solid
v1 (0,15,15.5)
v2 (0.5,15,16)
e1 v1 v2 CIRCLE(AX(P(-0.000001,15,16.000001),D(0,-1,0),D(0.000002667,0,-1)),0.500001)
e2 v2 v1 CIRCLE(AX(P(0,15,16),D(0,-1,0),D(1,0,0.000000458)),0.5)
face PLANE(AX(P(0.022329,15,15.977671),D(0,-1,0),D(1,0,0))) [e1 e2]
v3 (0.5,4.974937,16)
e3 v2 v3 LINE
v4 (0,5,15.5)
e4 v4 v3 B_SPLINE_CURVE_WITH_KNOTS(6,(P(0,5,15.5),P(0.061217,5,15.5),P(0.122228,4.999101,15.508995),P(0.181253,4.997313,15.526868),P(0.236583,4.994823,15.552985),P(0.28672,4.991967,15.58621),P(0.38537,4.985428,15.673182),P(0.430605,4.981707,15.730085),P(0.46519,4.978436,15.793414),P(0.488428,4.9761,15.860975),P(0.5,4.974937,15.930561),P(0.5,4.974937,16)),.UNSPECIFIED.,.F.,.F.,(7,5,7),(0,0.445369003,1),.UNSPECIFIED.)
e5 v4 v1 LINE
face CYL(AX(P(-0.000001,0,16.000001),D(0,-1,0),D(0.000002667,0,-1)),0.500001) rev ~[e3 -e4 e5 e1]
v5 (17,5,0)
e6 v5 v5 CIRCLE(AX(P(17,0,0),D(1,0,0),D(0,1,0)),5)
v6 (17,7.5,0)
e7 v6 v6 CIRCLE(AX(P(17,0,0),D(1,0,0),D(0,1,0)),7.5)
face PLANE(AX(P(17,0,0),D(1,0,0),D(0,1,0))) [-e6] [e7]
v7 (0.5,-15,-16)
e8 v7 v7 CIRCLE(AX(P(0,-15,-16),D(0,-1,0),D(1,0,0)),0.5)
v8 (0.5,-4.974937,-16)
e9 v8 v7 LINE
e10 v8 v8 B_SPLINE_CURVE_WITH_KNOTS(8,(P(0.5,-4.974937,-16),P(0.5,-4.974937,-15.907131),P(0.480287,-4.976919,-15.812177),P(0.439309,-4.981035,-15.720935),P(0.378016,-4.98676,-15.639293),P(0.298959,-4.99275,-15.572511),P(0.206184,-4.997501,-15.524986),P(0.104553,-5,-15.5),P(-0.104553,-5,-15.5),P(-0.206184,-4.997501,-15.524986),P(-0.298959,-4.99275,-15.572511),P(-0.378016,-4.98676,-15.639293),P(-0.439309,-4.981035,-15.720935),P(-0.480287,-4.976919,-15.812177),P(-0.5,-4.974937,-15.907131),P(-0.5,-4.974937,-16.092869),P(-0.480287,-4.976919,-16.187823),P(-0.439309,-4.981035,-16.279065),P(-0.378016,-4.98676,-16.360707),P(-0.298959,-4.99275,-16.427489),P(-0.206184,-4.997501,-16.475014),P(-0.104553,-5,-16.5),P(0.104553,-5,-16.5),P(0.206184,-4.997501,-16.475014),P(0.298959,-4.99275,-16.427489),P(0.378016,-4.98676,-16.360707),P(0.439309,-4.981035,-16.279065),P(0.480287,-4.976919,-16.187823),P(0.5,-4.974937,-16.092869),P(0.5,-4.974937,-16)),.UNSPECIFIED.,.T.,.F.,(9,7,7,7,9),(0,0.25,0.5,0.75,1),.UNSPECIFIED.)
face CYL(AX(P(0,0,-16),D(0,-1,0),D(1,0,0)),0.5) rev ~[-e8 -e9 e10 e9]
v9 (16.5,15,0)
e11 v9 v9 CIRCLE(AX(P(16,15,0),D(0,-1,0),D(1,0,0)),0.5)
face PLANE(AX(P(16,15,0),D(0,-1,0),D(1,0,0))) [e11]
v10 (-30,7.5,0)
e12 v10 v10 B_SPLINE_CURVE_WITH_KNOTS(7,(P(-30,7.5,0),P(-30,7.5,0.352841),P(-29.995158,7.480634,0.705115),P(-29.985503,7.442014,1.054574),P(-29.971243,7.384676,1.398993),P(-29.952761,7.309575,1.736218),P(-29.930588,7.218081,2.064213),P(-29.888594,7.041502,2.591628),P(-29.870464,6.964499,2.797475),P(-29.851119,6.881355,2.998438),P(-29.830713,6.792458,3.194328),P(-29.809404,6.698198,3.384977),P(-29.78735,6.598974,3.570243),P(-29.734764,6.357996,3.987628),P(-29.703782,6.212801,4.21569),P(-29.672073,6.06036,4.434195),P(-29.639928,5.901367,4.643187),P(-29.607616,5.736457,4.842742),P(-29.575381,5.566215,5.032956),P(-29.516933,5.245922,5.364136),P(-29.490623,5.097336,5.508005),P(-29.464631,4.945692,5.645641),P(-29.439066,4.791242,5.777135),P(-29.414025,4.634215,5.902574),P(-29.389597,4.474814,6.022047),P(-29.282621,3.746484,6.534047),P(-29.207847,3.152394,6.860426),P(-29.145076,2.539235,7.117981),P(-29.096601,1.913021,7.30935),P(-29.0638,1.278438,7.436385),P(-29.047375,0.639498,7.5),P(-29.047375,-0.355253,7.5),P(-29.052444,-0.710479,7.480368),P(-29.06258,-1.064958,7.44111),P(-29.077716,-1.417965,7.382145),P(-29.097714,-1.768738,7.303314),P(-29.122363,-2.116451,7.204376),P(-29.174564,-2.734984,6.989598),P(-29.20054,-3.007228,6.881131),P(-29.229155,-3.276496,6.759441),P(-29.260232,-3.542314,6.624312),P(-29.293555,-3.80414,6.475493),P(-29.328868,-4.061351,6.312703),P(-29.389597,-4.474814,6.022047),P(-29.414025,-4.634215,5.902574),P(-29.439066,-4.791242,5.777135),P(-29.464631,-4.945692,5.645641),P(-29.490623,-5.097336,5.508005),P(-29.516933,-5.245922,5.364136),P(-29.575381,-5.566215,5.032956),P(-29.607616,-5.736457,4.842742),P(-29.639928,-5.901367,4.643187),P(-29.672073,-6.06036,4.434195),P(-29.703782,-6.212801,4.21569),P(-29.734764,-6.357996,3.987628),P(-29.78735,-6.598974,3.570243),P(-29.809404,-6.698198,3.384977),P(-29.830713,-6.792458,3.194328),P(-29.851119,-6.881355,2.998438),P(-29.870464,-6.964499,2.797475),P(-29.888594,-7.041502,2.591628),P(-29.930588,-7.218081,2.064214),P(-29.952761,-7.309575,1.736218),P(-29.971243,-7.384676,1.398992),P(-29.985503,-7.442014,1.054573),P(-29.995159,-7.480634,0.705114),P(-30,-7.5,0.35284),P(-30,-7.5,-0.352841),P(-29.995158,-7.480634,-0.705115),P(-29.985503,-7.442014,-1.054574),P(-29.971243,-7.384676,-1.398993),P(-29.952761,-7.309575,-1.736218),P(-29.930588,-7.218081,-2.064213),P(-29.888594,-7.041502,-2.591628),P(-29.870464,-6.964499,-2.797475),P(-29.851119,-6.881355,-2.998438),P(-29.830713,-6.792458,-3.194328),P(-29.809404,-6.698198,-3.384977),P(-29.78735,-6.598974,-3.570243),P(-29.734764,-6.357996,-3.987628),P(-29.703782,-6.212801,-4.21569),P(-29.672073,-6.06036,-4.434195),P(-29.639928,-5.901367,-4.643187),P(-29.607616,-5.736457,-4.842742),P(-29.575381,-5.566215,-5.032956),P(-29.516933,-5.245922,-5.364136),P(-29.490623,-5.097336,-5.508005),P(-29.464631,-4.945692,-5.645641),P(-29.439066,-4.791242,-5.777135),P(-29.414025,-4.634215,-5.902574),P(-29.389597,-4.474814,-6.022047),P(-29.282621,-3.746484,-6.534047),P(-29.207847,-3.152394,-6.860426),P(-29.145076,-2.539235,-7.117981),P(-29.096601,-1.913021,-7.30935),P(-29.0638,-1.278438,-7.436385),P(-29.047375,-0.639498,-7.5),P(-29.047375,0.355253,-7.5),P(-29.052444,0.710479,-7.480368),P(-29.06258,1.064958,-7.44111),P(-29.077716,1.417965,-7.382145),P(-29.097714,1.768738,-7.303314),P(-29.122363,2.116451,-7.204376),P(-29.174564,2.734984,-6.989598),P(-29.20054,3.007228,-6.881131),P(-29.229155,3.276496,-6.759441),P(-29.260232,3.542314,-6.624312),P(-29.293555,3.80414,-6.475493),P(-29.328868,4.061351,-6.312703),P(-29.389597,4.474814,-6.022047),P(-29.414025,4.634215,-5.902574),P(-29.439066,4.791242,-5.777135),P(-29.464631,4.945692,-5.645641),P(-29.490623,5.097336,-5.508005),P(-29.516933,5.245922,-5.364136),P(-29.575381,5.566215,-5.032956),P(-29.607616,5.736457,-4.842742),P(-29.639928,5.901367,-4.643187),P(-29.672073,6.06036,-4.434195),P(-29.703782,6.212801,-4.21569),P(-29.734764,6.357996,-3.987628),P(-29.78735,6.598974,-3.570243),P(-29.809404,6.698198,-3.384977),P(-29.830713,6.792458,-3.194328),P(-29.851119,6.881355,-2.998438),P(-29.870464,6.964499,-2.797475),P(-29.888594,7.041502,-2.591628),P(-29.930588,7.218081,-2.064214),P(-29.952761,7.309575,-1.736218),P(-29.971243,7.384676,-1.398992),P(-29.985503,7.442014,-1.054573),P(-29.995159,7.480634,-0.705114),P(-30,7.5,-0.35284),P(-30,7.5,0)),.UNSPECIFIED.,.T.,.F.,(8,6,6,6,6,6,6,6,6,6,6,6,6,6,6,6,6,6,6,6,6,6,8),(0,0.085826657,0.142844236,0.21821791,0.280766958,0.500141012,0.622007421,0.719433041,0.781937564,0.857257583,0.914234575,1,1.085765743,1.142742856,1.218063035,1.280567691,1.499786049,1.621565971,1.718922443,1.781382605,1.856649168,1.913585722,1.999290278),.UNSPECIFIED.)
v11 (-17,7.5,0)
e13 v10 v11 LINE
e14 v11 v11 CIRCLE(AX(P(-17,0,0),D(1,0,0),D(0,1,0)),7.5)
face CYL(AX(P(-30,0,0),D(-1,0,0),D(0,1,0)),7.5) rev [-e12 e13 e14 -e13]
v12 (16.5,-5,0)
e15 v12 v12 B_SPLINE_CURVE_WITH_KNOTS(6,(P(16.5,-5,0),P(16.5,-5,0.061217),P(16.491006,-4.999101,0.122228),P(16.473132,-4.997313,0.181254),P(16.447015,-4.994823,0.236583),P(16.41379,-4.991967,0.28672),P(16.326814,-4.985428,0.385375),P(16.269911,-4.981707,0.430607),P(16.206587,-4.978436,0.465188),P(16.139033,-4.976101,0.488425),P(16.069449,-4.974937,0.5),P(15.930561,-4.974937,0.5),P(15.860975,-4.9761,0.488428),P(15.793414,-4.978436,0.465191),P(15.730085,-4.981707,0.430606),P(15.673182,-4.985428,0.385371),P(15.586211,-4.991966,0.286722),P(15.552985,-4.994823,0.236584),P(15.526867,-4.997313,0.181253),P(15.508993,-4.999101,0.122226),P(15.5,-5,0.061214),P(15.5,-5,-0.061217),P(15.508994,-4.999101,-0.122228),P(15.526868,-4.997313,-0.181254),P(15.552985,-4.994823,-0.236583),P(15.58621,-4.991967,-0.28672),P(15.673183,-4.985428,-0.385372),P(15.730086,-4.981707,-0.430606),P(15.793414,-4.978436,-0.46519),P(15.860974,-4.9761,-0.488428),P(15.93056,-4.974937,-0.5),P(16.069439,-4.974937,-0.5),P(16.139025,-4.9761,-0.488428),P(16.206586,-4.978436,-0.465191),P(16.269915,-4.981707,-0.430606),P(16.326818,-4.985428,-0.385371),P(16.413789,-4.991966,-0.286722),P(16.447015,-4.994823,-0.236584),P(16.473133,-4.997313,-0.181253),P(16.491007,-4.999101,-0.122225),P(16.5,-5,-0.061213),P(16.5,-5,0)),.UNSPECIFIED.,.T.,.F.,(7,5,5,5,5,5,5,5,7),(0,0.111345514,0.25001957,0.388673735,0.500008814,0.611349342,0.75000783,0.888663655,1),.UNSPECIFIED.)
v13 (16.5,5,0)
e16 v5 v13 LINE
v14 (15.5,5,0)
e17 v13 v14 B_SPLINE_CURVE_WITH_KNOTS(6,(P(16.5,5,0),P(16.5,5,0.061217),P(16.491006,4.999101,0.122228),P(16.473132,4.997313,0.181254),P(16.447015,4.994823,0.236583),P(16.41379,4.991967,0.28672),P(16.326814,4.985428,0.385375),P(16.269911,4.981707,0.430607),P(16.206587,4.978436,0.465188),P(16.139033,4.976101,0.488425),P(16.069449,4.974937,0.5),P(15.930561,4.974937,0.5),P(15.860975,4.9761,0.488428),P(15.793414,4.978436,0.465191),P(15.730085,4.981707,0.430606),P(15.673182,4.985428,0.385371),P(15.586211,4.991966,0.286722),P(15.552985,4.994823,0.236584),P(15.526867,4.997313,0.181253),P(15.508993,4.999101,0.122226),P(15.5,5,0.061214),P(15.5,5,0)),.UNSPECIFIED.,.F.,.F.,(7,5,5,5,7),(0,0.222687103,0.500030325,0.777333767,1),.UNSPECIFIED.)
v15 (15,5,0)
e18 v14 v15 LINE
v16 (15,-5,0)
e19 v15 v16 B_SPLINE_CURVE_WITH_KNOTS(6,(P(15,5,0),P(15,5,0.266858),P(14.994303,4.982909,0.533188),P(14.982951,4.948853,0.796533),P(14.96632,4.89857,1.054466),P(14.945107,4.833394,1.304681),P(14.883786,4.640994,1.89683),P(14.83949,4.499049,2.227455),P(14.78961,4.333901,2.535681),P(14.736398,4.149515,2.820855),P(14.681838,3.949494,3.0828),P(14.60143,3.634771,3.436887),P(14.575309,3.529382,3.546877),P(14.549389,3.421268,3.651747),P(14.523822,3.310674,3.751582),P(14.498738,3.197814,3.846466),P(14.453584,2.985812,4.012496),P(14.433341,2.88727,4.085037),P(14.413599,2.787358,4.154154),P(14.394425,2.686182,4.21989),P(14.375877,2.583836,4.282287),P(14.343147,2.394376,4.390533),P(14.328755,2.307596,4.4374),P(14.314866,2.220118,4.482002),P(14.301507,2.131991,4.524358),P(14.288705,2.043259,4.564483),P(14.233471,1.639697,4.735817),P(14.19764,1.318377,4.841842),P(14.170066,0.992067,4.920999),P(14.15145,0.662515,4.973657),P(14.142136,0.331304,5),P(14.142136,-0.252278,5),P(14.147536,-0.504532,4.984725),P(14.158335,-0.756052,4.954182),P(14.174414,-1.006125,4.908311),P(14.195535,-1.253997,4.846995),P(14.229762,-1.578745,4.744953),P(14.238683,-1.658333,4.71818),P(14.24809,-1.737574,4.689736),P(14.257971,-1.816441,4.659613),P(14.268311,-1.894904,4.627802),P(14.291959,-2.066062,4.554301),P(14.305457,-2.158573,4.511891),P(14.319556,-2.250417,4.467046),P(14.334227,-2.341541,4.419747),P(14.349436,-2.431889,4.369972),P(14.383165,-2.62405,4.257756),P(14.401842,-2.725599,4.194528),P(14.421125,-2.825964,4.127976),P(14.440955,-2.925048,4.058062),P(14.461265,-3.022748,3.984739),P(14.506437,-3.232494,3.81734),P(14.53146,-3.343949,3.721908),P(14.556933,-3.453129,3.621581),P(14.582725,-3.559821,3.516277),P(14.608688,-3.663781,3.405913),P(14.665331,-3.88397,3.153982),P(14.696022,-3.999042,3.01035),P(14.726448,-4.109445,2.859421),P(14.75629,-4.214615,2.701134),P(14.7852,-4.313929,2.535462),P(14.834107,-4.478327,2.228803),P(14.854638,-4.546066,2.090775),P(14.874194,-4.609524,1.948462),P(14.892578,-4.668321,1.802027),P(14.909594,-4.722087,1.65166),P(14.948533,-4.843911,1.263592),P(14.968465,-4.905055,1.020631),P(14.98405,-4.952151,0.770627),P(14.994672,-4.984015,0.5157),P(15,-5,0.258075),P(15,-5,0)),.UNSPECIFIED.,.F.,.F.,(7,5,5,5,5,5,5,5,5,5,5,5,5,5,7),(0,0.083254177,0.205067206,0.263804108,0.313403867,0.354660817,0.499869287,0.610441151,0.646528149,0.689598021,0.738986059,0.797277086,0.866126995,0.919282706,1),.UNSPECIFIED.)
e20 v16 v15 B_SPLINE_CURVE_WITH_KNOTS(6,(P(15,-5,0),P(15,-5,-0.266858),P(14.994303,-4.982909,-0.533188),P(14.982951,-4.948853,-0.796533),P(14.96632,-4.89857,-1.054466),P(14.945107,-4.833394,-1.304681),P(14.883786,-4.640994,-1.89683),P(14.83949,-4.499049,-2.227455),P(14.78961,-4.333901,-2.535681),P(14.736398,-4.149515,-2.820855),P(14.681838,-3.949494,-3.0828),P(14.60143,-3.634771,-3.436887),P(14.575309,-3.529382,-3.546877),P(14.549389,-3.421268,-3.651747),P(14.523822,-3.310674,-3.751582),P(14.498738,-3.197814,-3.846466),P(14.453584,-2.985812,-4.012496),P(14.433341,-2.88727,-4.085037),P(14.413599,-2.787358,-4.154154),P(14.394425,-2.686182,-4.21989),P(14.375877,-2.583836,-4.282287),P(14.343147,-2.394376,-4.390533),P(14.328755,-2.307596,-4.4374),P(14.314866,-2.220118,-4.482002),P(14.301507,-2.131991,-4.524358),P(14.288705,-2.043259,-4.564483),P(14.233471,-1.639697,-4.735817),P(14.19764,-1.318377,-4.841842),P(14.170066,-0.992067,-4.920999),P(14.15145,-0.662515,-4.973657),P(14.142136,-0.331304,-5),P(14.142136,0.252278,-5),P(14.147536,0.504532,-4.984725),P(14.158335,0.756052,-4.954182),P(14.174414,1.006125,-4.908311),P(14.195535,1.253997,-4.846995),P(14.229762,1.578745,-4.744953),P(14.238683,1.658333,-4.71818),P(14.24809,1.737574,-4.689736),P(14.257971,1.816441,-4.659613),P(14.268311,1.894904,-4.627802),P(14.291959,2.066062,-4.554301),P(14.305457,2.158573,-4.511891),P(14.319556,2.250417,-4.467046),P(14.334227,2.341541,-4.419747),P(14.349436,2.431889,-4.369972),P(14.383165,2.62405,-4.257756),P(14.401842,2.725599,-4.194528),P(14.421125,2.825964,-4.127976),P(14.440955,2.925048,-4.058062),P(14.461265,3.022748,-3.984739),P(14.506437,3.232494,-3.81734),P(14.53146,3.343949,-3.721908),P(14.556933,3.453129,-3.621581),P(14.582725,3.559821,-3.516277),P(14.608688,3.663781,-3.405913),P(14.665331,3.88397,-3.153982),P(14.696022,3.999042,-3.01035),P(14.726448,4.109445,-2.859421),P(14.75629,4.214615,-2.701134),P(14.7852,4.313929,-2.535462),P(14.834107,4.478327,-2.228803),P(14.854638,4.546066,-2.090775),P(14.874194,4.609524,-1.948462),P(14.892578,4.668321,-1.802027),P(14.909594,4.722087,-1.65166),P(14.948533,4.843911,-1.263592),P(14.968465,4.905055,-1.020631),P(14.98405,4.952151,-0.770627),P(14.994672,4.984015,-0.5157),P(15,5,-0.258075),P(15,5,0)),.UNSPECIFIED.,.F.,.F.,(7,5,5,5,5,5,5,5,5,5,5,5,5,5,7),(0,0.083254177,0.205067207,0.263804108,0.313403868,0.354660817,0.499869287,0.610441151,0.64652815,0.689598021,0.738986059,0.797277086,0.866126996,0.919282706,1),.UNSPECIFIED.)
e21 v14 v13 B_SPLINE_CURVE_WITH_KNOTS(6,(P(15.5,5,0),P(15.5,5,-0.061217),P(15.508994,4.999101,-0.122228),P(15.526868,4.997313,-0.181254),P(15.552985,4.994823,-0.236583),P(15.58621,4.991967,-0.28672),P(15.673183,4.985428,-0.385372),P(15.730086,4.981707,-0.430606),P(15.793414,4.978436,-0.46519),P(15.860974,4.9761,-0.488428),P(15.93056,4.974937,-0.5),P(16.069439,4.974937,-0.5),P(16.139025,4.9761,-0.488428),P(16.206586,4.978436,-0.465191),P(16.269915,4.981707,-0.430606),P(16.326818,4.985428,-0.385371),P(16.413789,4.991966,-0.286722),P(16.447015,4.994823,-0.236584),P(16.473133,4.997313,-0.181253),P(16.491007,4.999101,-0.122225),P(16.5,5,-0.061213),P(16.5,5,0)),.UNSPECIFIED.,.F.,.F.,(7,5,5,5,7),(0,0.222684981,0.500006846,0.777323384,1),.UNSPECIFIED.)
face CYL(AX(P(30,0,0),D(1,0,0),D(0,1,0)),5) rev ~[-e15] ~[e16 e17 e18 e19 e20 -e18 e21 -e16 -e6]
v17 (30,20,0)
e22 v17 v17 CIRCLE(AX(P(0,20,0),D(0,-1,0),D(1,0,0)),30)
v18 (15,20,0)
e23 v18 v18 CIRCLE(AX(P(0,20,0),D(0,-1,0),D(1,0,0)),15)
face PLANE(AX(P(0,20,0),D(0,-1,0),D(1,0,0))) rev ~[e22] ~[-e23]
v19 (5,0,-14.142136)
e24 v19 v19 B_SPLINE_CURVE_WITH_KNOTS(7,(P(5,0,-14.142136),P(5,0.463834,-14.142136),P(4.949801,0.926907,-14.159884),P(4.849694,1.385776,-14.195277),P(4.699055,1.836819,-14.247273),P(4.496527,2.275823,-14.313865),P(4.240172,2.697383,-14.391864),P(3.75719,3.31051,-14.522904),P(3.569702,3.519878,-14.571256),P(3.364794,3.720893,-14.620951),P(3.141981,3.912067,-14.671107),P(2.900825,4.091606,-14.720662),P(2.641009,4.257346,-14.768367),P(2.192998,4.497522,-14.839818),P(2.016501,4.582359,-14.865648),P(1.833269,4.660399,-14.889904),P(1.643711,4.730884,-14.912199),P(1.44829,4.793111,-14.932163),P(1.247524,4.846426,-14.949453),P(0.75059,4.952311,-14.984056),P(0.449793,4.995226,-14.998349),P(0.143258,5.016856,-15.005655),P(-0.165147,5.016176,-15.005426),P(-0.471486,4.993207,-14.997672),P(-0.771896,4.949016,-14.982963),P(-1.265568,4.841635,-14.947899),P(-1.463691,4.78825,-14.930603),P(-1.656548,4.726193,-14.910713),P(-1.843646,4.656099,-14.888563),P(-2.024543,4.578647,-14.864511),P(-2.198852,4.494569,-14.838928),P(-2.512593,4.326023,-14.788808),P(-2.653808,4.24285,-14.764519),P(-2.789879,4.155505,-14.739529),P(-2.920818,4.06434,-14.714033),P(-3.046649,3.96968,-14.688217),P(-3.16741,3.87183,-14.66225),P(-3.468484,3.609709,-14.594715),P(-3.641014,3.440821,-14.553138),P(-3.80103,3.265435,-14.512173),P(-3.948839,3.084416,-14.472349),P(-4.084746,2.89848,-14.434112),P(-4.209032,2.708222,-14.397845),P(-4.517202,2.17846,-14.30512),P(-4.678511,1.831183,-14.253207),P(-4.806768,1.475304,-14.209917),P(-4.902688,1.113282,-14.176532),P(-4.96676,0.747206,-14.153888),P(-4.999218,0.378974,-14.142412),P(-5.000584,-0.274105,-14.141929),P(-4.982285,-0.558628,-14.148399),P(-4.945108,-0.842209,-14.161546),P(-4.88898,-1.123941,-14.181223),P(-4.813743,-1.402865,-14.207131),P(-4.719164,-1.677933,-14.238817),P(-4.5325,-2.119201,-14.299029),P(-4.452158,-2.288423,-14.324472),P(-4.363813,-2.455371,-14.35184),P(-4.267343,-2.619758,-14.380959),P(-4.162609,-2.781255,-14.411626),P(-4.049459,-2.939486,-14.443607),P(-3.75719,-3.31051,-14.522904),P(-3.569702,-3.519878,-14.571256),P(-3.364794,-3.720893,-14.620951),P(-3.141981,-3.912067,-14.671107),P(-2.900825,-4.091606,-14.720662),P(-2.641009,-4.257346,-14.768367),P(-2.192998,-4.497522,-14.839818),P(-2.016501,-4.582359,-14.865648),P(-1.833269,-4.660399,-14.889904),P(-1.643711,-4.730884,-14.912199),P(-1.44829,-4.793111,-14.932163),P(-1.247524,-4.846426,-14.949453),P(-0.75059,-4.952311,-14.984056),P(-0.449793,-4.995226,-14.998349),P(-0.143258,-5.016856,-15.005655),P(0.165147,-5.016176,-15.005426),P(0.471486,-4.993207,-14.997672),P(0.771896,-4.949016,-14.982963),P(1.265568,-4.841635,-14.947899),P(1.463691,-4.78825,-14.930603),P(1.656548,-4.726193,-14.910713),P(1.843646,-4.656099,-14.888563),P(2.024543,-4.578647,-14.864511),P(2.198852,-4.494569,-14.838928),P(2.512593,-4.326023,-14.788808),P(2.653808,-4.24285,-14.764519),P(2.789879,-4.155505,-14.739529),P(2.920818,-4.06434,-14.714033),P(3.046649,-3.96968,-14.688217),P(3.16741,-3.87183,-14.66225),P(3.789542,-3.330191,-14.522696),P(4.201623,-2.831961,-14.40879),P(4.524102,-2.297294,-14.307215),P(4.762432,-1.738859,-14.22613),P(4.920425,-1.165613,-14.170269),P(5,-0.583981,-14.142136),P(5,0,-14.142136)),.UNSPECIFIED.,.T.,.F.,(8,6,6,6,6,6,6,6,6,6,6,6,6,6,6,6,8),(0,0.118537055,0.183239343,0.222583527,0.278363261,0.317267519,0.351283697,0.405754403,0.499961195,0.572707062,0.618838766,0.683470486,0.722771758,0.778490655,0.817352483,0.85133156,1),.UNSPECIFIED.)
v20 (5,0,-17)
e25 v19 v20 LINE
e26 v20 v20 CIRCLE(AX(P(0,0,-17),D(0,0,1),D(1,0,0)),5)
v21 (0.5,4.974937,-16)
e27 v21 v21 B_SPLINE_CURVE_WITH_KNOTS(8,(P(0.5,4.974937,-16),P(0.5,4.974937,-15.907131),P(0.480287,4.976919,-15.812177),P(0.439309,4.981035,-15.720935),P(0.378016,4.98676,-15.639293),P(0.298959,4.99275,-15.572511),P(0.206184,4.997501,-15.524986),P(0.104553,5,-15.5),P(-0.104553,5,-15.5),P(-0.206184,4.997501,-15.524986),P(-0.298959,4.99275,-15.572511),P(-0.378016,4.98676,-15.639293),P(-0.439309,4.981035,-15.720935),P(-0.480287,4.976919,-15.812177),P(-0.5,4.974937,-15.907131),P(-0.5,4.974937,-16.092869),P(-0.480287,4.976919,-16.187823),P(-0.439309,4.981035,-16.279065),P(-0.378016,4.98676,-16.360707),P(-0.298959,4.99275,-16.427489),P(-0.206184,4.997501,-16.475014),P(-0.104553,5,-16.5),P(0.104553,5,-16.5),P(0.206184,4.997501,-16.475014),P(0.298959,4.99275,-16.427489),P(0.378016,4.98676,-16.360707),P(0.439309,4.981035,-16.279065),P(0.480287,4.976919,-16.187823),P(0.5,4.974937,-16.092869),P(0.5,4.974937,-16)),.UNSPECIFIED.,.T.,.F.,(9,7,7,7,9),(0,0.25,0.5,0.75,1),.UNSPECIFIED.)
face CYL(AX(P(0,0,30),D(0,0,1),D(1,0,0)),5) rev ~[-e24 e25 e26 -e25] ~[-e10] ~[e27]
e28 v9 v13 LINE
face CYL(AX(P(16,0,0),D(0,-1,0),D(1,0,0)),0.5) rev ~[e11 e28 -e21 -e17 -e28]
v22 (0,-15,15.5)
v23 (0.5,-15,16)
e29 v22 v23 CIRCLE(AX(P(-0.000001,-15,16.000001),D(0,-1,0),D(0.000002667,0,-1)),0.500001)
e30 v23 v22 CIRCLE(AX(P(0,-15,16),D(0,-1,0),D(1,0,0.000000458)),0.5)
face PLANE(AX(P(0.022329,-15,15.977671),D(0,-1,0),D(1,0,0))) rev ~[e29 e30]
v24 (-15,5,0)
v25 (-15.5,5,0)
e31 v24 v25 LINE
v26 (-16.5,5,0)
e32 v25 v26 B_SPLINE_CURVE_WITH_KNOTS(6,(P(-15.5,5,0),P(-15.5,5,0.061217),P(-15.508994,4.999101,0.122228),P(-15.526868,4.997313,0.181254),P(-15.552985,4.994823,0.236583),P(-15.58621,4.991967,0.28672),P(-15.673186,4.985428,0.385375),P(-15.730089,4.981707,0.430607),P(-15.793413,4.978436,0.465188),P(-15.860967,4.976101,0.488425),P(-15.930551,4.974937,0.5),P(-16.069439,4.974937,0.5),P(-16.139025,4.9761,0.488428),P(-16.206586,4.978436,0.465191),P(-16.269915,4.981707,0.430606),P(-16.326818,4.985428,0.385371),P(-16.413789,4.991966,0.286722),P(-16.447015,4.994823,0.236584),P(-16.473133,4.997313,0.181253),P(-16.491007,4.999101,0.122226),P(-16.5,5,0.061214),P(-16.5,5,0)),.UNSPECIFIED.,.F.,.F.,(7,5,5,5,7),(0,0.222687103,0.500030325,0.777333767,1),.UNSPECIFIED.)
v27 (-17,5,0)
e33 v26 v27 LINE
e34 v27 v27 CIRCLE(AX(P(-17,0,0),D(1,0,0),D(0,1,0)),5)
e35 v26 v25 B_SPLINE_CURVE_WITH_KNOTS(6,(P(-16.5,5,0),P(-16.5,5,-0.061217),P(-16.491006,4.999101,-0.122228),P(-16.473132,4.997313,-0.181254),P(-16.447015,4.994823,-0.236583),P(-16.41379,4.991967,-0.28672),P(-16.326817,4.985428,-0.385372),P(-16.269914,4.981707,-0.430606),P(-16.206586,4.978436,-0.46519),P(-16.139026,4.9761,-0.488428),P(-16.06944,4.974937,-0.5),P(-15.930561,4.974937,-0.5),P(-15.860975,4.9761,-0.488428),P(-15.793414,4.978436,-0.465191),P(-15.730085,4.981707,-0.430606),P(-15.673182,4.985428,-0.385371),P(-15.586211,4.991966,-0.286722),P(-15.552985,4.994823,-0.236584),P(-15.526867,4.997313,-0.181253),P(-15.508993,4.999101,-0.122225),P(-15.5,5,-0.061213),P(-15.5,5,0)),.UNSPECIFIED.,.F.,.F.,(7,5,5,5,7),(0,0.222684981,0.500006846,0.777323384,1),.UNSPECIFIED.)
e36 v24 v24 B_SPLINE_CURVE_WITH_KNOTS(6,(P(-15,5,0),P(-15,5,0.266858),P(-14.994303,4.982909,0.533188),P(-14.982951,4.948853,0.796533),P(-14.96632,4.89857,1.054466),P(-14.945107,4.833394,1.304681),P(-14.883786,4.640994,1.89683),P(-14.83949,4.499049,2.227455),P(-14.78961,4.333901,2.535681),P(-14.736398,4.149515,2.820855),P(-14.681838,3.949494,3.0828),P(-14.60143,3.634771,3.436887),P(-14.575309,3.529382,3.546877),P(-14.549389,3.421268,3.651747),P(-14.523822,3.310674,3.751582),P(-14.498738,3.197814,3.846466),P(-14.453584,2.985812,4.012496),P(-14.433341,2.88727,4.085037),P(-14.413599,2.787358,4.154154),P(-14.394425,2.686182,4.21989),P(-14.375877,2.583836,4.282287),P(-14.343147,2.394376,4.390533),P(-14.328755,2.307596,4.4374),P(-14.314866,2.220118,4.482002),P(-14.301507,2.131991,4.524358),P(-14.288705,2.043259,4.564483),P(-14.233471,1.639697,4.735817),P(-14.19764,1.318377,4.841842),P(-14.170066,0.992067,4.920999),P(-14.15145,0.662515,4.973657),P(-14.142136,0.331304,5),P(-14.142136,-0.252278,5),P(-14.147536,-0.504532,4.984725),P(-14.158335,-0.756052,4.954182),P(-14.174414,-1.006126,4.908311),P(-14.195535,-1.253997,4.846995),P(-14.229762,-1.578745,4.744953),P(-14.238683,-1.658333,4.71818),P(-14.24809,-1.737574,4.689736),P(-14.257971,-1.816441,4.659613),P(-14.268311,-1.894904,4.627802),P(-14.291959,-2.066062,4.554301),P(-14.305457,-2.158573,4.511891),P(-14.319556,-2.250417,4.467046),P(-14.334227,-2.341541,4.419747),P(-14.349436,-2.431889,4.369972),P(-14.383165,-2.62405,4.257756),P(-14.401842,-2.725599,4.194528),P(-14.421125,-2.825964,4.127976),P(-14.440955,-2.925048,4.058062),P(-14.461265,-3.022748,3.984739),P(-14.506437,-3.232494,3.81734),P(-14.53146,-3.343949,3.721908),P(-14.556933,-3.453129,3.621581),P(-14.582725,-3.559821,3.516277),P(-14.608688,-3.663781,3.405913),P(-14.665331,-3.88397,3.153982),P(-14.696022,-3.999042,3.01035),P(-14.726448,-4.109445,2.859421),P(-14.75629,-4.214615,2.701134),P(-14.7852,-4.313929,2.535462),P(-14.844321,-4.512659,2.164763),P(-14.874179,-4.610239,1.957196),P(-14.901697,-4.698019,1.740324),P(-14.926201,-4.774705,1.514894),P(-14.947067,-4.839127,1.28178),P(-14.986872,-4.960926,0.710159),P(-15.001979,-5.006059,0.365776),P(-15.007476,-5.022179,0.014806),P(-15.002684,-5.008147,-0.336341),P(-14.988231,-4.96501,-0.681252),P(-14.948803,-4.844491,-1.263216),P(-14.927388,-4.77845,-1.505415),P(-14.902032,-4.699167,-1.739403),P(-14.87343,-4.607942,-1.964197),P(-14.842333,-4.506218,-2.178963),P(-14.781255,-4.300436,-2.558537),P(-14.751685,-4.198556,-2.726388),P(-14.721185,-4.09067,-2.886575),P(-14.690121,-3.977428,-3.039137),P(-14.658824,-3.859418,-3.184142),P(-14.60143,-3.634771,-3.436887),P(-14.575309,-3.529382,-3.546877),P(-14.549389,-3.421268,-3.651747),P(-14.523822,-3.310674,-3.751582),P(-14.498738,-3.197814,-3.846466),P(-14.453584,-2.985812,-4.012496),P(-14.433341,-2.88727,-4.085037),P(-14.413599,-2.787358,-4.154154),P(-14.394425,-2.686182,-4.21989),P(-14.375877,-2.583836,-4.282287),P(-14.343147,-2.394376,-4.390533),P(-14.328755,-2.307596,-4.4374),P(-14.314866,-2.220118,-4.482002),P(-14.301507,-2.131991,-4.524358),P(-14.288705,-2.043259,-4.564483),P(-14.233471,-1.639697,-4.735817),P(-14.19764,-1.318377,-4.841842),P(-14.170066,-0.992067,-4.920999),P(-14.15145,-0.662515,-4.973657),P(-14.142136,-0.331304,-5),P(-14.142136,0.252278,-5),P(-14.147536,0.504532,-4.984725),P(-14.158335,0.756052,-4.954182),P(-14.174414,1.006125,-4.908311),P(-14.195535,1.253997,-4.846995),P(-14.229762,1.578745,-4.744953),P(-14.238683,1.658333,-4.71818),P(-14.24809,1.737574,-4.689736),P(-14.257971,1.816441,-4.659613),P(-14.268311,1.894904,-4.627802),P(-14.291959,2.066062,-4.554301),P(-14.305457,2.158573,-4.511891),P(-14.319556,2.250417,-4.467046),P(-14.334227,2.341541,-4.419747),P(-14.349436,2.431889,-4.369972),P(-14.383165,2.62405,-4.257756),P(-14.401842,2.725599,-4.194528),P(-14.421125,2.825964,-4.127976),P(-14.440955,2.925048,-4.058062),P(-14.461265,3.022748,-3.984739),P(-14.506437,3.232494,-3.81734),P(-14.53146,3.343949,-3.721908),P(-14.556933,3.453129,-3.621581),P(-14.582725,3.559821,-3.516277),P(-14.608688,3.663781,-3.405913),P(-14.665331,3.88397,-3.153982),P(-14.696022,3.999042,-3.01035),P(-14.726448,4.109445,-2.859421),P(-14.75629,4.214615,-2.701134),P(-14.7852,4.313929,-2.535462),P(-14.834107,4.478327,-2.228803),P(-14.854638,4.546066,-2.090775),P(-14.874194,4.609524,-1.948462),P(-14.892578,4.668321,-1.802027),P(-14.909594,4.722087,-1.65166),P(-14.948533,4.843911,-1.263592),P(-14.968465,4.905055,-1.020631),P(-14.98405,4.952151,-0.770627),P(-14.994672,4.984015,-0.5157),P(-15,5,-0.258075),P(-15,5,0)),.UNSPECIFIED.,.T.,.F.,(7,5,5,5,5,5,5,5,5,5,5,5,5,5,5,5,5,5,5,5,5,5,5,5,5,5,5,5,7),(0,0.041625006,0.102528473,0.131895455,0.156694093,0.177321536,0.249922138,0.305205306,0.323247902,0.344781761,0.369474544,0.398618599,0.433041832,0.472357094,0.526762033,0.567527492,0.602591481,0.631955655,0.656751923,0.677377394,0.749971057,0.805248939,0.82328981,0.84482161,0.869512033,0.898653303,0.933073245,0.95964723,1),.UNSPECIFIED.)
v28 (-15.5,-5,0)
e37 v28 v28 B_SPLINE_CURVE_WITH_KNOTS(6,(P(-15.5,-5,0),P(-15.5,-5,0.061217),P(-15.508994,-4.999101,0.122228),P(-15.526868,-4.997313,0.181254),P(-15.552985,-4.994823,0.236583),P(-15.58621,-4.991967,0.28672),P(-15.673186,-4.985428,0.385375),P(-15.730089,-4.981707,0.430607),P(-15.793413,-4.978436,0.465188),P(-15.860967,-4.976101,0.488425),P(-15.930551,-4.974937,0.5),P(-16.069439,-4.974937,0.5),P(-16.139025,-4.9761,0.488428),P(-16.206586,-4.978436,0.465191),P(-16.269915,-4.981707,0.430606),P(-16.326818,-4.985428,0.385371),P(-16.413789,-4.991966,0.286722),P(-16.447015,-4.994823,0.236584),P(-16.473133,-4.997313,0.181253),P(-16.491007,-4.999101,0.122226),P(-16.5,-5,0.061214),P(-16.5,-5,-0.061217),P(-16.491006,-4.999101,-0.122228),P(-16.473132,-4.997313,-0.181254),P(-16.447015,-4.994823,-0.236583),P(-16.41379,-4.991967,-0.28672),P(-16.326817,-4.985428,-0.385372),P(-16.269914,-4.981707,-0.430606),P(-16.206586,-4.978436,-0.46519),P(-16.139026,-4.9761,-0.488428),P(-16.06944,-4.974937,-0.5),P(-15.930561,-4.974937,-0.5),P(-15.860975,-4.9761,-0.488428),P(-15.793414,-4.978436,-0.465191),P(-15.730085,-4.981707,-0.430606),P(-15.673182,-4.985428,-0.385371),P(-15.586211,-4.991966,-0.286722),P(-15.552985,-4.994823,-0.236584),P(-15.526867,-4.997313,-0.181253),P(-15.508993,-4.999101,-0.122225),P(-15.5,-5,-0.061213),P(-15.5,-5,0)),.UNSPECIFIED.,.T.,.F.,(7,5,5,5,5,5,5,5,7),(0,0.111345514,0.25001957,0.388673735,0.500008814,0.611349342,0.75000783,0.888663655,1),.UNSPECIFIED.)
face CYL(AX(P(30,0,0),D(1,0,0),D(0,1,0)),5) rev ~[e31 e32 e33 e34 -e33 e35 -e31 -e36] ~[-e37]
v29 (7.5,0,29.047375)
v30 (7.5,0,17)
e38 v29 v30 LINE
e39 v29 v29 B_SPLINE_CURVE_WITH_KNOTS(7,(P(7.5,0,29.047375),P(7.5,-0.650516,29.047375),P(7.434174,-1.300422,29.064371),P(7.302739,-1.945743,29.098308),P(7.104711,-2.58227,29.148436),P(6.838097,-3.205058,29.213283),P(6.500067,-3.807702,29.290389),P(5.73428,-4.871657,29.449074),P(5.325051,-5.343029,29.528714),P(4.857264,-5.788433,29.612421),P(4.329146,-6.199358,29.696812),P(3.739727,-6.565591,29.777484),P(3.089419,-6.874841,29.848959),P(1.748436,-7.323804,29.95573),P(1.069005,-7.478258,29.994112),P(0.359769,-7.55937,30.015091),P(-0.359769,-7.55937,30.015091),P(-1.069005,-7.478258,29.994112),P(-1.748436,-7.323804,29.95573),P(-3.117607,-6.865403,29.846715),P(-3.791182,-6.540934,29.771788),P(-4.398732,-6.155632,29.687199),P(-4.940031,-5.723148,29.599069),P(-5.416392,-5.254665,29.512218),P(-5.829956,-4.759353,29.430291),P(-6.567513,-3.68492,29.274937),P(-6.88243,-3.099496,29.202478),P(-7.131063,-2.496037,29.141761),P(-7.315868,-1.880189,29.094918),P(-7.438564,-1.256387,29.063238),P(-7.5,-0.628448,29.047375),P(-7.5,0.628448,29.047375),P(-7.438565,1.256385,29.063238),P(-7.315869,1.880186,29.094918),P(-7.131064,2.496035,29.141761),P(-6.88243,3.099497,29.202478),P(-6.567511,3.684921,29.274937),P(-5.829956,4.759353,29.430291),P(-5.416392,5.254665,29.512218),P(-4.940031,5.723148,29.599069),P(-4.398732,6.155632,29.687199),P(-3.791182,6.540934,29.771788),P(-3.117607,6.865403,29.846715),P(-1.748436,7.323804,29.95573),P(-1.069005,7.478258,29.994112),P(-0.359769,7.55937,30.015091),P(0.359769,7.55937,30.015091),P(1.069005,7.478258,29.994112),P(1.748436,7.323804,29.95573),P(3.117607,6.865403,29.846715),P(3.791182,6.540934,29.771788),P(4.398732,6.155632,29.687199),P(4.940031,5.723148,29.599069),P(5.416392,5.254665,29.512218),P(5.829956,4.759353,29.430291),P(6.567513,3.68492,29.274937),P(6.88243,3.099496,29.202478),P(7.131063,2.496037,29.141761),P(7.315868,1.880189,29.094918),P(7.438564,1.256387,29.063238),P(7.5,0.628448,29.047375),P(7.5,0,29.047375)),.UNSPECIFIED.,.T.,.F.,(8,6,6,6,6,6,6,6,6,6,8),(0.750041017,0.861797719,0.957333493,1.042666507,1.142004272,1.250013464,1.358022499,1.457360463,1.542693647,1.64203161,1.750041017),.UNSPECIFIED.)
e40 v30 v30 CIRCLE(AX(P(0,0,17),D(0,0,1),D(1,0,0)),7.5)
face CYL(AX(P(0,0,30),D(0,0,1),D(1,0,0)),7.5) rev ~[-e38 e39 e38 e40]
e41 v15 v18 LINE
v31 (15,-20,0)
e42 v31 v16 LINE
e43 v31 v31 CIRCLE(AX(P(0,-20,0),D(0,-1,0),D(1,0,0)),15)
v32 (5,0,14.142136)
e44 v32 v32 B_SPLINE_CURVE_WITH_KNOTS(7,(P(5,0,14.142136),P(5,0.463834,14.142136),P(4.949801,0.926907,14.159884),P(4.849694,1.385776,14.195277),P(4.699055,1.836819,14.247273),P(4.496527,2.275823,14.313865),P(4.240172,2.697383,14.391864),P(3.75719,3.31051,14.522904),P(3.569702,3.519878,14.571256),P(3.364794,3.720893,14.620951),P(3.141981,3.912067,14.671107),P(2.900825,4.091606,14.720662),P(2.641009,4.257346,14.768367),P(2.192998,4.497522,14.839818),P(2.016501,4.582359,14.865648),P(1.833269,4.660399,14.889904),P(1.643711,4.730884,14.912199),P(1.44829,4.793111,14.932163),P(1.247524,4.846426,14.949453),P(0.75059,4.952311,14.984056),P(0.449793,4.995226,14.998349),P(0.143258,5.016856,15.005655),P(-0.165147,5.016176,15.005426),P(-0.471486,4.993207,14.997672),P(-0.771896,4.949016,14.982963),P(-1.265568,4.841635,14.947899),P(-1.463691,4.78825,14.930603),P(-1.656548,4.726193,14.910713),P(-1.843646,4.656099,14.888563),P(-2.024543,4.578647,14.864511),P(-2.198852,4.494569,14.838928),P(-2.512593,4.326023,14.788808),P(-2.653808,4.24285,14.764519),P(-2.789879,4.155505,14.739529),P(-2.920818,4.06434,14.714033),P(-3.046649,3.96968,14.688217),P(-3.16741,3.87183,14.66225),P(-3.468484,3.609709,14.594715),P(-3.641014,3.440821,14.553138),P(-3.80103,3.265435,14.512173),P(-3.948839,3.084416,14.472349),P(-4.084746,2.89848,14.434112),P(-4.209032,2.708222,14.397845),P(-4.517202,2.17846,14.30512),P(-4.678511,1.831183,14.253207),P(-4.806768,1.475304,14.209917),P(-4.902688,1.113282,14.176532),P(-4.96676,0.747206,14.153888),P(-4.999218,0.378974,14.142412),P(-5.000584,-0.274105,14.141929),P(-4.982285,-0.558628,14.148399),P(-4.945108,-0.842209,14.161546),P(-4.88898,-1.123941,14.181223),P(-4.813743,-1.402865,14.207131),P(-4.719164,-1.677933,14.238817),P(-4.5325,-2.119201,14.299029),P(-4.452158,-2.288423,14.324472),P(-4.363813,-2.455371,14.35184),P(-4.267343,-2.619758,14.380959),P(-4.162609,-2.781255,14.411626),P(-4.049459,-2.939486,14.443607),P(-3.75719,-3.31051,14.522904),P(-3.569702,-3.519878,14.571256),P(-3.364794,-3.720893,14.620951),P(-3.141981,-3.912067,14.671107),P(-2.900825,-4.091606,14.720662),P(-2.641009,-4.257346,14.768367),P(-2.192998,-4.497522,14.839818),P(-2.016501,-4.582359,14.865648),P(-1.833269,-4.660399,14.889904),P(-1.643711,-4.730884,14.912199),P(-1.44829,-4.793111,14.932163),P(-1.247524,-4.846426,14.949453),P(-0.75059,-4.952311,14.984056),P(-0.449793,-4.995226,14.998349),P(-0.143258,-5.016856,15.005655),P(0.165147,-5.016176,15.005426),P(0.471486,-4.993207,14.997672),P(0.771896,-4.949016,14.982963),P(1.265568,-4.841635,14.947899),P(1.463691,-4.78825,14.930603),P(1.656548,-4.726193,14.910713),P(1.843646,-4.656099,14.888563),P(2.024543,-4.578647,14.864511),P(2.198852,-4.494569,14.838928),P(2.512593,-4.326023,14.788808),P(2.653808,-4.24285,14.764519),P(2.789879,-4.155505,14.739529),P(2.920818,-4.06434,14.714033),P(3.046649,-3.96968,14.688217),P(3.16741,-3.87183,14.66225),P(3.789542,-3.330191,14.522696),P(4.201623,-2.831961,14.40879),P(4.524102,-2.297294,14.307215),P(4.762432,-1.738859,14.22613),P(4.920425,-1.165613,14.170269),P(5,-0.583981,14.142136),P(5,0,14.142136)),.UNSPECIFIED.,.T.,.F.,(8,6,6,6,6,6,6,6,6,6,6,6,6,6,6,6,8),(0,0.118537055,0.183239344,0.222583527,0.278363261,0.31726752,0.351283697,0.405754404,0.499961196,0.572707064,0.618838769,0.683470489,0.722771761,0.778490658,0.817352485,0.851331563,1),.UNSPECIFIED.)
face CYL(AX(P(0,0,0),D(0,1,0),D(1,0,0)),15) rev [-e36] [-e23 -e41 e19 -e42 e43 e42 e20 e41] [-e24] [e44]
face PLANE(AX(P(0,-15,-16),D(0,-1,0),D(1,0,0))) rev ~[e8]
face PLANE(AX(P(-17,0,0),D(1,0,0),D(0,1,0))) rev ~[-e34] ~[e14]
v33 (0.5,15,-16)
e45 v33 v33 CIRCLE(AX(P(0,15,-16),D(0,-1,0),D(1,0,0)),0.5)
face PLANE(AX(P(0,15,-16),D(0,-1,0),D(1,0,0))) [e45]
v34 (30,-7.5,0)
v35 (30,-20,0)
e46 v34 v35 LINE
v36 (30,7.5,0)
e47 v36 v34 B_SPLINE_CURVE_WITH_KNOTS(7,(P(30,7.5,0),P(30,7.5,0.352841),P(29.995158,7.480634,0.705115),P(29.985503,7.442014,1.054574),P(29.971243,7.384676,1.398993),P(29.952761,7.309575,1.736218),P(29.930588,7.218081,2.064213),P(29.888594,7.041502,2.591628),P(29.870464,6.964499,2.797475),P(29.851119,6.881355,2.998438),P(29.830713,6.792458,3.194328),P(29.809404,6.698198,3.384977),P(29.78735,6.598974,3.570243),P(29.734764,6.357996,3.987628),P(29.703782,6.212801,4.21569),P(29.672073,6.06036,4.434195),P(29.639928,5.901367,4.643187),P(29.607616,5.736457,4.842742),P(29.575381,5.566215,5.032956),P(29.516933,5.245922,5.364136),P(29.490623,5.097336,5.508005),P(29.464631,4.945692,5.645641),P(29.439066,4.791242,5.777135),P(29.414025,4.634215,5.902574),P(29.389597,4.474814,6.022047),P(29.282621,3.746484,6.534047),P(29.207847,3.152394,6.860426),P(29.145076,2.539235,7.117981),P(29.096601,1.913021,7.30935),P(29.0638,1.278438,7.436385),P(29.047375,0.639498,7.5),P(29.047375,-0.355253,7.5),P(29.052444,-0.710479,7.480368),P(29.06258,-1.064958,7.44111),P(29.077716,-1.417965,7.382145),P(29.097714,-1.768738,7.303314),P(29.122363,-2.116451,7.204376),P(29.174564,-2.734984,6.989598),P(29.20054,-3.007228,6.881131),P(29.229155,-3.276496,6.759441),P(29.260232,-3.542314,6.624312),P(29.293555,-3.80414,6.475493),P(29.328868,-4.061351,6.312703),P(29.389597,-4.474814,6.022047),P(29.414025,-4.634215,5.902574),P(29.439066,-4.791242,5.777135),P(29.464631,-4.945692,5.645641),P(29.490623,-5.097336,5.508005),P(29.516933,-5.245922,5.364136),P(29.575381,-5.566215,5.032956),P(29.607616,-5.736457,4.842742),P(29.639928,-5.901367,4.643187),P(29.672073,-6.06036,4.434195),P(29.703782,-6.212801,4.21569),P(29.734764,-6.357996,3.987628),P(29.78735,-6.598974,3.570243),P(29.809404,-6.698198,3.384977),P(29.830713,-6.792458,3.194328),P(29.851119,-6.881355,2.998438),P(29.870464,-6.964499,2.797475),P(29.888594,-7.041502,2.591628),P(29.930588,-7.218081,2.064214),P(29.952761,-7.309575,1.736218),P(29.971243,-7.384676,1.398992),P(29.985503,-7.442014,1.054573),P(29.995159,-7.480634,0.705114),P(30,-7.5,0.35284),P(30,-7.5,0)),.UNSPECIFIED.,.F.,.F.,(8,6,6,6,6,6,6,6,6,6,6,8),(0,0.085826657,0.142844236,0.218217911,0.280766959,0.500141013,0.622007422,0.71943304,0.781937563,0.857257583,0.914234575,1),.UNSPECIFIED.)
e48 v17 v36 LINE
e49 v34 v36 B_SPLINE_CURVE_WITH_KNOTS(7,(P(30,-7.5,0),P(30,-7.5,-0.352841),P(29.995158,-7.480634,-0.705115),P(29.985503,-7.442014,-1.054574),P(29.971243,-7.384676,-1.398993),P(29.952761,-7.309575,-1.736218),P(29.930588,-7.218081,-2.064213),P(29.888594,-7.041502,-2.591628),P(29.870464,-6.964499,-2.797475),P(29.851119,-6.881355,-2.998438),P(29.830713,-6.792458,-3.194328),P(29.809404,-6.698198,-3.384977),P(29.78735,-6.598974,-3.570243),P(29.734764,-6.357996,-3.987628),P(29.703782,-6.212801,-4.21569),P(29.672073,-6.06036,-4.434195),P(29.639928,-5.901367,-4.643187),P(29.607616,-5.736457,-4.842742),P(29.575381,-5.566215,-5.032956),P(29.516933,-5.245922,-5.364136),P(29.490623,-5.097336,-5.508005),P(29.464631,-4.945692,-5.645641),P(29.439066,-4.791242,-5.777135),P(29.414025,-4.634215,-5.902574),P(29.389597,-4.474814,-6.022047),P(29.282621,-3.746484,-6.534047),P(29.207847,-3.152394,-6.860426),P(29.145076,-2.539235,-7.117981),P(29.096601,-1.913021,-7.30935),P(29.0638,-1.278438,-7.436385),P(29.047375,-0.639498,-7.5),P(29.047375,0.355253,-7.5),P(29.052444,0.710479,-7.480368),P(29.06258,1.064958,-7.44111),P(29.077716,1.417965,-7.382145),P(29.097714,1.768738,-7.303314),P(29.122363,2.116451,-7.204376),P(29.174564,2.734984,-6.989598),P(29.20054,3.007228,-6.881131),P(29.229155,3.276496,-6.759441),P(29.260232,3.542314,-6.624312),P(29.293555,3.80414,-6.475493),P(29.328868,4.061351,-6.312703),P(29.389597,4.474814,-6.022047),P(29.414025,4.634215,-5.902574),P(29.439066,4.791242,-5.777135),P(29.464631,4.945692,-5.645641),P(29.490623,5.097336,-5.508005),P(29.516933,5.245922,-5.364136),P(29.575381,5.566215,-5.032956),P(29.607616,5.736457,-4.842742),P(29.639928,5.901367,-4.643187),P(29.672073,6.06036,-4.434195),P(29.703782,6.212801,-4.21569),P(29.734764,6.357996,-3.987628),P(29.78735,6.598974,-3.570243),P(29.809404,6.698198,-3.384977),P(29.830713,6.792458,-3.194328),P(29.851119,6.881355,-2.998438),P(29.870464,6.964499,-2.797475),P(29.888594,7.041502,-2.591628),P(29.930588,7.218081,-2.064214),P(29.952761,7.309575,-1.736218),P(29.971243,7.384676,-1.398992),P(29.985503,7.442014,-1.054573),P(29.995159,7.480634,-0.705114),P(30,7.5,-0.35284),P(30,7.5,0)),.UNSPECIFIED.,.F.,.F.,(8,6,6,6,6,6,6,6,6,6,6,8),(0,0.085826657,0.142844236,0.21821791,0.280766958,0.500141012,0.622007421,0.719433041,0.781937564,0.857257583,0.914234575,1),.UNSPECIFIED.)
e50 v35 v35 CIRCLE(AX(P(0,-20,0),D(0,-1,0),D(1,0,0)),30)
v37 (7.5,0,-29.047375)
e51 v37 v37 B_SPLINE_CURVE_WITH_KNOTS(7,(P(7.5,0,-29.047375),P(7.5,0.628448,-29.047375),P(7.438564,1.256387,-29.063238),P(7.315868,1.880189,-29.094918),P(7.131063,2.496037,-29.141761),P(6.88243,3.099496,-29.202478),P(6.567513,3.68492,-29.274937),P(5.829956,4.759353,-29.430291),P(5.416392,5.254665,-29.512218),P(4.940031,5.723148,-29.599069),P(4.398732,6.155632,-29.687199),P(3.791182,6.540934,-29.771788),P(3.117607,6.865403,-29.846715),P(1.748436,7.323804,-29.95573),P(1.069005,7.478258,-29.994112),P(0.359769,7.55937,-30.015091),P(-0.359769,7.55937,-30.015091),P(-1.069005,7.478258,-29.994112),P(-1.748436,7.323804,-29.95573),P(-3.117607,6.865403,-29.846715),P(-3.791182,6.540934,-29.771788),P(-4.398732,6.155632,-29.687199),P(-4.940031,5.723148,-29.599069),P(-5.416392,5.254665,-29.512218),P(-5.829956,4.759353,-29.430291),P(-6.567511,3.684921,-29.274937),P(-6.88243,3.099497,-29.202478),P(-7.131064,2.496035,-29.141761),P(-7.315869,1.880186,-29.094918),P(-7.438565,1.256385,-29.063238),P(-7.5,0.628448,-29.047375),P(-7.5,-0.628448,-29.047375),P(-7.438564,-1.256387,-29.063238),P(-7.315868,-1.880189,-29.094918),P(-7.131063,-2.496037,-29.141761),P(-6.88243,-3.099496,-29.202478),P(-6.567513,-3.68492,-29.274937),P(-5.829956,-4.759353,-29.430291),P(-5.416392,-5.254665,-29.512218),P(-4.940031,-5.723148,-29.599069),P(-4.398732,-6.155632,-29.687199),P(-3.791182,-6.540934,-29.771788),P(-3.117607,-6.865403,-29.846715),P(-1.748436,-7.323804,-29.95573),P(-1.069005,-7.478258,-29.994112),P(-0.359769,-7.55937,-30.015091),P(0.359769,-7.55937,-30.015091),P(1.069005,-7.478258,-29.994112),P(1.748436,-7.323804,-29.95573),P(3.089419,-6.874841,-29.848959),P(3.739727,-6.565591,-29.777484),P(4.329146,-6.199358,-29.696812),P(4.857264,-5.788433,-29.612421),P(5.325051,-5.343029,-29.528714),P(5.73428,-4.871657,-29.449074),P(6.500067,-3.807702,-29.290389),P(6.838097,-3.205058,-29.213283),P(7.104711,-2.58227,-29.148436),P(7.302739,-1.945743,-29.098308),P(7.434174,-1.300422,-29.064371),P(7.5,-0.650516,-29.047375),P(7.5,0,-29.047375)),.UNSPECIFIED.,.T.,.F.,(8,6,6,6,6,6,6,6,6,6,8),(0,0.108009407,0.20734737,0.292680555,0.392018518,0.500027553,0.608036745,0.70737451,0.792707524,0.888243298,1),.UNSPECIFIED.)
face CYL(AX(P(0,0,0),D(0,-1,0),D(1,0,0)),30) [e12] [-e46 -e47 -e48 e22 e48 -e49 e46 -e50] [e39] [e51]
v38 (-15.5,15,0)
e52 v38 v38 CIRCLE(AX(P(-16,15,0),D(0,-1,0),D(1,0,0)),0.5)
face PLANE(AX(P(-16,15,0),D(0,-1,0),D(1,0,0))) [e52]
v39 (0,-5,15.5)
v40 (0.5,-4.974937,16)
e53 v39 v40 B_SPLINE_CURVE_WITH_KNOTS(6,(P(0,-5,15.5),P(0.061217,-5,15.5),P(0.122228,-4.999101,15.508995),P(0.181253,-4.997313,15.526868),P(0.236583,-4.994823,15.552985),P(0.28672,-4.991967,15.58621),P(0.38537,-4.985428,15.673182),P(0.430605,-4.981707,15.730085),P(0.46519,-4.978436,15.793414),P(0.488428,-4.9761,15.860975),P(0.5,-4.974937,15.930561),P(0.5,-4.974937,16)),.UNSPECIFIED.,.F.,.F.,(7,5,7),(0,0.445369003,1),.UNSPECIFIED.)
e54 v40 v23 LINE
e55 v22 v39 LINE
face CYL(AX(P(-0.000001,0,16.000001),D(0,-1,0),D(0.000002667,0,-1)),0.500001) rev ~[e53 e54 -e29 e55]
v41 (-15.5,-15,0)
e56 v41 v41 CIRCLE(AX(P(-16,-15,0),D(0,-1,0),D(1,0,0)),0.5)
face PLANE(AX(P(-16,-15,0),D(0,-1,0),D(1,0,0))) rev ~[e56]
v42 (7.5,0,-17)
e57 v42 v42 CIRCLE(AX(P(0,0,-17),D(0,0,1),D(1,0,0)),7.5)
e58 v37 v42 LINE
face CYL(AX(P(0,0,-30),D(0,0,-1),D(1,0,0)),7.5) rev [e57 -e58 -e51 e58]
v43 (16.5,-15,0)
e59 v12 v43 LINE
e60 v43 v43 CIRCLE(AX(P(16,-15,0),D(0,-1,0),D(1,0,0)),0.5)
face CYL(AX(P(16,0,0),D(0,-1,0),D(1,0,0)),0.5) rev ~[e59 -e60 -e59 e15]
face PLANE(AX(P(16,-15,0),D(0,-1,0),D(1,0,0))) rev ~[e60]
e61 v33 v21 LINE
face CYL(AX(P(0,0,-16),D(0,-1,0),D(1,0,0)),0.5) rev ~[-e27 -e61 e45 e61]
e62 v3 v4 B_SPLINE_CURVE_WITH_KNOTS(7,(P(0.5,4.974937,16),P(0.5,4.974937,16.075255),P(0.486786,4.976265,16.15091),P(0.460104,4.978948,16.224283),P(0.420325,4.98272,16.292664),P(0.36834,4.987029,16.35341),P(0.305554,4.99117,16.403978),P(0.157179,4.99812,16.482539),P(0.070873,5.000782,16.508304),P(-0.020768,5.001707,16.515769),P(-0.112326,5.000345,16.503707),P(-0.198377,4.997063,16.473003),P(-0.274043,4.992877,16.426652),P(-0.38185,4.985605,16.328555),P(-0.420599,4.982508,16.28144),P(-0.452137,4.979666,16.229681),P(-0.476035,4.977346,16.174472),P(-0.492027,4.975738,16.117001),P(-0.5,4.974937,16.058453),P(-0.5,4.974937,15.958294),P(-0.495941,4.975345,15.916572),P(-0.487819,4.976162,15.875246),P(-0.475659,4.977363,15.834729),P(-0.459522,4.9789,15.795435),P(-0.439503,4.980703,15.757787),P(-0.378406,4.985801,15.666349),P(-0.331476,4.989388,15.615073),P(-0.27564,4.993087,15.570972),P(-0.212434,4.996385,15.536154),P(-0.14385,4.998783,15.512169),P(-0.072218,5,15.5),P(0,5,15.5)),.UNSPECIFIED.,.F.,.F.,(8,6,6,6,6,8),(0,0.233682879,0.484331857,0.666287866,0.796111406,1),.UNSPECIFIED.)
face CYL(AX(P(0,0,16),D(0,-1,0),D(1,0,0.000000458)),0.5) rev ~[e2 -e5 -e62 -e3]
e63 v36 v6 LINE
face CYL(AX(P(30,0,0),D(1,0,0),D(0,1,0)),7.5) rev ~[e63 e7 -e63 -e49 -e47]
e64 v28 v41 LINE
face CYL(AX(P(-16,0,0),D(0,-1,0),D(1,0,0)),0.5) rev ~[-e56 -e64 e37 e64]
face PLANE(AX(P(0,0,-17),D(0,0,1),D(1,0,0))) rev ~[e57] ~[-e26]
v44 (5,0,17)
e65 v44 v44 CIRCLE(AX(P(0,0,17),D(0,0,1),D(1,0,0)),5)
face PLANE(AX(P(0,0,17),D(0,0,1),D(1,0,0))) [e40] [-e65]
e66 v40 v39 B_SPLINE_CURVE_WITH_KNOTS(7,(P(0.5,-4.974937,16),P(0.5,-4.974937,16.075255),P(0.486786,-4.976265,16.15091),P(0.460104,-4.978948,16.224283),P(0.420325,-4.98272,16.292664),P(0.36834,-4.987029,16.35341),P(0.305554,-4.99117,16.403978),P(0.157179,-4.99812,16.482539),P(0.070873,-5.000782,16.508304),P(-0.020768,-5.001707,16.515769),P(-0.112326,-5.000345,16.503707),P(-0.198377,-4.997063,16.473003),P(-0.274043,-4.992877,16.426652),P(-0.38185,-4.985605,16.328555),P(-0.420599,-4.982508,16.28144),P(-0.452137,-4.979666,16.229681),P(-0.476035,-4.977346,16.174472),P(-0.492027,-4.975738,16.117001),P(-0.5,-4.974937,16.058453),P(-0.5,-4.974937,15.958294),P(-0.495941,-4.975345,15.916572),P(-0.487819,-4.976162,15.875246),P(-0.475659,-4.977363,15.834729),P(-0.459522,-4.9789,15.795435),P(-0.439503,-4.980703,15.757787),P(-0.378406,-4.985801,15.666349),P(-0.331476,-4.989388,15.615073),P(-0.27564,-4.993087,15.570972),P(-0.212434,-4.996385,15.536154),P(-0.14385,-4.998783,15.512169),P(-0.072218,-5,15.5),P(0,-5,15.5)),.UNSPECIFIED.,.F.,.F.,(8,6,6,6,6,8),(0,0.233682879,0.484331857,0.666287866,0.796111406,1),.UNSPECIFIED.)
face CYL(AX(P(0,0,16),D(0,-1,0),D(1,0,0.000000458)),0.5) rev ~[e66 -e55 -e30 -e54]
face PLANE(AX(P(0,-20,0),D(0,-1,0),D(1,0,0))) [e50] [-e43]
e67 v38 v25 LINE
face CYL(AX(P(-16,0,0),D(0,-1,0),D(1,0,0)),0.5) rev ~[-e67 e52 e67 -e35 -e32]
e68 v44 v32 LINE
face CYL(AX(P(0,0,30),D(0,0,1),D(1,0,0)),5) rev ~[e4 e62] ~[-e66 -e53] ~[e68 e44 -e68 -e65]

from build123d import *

# Parameters (mm, degrees)
F0_R      = 30
F0_R_2    = 15
F1_DEPTH  = 20
F3_R      = 7.5
F4_DEPTH  = 13
F5_R      = 5
F6_DEPTH  = 65.5
F8_R      = 7.5
F9_DEPTH  = 13
F12_R     = 7.5
F13_DEPTH = 13
F14_R     = 5
F15_DEPTH = 92
F16_R     = 7.5
F17_DEPTH = 13
F19_DEPTH = 15
F18_R     = 0.5
F20_DEPTH = 15
F21_DEPTH = 15
F22_DEPTH = 15


with BuildPart() as f1:
    # F0 (on Front) → F1 (new body, symmetric)
    with BuildSketch(Plane.XZ):
        Circle(F0_R)
        Circle(F0_R_2, mode=Mode.SUBTRACT)
    extrude(amount=F1_DEPTH, both=True)

    # F3 (on offset) → F4 (cut)
    with BuildSketch(Plane.XY.offset(30)):
        Circle(F3_R)
    extrude(amount=-F4_DEPTH, mode=Mode.SUBTRACT)

    # F5 (on offset) → F6 (cut)
    with BuildSketch(Plane.XY.offset(30)):
        Circle(F5_R)
    extrude(amount=-F6_DEPTH, mode=Mode.SUBTRACT)

    # F8 (on offset) → F9 (cut)
    with BuildSketch(Plane.XY.offset(-30)):
        Circle(F8_R)
    extrude(amount=F9_DEPTH, mode=Mode.SUBTRACT)

    # F12 (on offset) → F13 (cut)
    with BuildSketch(Plane.YZ.offset(30)):
        Circle(F12_R)
    extrude(amount=-F13_DEPTH, mode=Mode.SUBTRACT)

    # F14 (on offset) → F15 (cut)
    with BuildSketch(Plane.YZ.offset(30)):
        Circle(F14_R)
    extrude(amount=-F15_DEPTH, mode=Mode.SUBTRACT)

    # F16 (on offset) → F17 (cut)
    with BuildSketch(Plane.YZ.offset(-30)):
        Circle(F16_R)
    extrude(amount=F17_DEPTH, mode=Mode.SUBTRACT)

    # F18 (on Front) → F19 (cut, symmetric)
    with BuildSketch(Plane.XZ):
        with BuildLine():
            ThreePointArc((0, 15.5), (0.353553, 15.646447), (0.5, 16))
            ThreePointArc((0.5, 16), (-0.353553, 16.353553), (0, 15.5))
        make_face()
    extrude(amount=F19_DEPTH, both=True, mode=Mode.SUBTRACT)

    # F18 (on Front) → F20 (cut, symmetric)
    with BuildSketch(Plane.XZ):
        with Locations((16, 0)):
            Circle(F18_R)
    extrude(amount=F20_DEPTH, both=True, mode=Mode.SUBTRACT)

    # F18 (on Front) → F21 (cut, symmetric)
    with BuildSketch(Plane.XZ):
        with Locations((0, -16)):
            Circle(F18_R)
    extrude(amount=F21_DEPTH, both=True, mode=Mode.SUBTRACT)

    # F18 (on Front) → F22 (cut, symmetric)
    with BuildSketch(Plane.XZ):
        with Locations((-16, 0)):
            Circle(F18_R)
    extrude(amount=F22_DEPTH, both=True, mode=Mode.SUBTRACT)


solid = f1.part
